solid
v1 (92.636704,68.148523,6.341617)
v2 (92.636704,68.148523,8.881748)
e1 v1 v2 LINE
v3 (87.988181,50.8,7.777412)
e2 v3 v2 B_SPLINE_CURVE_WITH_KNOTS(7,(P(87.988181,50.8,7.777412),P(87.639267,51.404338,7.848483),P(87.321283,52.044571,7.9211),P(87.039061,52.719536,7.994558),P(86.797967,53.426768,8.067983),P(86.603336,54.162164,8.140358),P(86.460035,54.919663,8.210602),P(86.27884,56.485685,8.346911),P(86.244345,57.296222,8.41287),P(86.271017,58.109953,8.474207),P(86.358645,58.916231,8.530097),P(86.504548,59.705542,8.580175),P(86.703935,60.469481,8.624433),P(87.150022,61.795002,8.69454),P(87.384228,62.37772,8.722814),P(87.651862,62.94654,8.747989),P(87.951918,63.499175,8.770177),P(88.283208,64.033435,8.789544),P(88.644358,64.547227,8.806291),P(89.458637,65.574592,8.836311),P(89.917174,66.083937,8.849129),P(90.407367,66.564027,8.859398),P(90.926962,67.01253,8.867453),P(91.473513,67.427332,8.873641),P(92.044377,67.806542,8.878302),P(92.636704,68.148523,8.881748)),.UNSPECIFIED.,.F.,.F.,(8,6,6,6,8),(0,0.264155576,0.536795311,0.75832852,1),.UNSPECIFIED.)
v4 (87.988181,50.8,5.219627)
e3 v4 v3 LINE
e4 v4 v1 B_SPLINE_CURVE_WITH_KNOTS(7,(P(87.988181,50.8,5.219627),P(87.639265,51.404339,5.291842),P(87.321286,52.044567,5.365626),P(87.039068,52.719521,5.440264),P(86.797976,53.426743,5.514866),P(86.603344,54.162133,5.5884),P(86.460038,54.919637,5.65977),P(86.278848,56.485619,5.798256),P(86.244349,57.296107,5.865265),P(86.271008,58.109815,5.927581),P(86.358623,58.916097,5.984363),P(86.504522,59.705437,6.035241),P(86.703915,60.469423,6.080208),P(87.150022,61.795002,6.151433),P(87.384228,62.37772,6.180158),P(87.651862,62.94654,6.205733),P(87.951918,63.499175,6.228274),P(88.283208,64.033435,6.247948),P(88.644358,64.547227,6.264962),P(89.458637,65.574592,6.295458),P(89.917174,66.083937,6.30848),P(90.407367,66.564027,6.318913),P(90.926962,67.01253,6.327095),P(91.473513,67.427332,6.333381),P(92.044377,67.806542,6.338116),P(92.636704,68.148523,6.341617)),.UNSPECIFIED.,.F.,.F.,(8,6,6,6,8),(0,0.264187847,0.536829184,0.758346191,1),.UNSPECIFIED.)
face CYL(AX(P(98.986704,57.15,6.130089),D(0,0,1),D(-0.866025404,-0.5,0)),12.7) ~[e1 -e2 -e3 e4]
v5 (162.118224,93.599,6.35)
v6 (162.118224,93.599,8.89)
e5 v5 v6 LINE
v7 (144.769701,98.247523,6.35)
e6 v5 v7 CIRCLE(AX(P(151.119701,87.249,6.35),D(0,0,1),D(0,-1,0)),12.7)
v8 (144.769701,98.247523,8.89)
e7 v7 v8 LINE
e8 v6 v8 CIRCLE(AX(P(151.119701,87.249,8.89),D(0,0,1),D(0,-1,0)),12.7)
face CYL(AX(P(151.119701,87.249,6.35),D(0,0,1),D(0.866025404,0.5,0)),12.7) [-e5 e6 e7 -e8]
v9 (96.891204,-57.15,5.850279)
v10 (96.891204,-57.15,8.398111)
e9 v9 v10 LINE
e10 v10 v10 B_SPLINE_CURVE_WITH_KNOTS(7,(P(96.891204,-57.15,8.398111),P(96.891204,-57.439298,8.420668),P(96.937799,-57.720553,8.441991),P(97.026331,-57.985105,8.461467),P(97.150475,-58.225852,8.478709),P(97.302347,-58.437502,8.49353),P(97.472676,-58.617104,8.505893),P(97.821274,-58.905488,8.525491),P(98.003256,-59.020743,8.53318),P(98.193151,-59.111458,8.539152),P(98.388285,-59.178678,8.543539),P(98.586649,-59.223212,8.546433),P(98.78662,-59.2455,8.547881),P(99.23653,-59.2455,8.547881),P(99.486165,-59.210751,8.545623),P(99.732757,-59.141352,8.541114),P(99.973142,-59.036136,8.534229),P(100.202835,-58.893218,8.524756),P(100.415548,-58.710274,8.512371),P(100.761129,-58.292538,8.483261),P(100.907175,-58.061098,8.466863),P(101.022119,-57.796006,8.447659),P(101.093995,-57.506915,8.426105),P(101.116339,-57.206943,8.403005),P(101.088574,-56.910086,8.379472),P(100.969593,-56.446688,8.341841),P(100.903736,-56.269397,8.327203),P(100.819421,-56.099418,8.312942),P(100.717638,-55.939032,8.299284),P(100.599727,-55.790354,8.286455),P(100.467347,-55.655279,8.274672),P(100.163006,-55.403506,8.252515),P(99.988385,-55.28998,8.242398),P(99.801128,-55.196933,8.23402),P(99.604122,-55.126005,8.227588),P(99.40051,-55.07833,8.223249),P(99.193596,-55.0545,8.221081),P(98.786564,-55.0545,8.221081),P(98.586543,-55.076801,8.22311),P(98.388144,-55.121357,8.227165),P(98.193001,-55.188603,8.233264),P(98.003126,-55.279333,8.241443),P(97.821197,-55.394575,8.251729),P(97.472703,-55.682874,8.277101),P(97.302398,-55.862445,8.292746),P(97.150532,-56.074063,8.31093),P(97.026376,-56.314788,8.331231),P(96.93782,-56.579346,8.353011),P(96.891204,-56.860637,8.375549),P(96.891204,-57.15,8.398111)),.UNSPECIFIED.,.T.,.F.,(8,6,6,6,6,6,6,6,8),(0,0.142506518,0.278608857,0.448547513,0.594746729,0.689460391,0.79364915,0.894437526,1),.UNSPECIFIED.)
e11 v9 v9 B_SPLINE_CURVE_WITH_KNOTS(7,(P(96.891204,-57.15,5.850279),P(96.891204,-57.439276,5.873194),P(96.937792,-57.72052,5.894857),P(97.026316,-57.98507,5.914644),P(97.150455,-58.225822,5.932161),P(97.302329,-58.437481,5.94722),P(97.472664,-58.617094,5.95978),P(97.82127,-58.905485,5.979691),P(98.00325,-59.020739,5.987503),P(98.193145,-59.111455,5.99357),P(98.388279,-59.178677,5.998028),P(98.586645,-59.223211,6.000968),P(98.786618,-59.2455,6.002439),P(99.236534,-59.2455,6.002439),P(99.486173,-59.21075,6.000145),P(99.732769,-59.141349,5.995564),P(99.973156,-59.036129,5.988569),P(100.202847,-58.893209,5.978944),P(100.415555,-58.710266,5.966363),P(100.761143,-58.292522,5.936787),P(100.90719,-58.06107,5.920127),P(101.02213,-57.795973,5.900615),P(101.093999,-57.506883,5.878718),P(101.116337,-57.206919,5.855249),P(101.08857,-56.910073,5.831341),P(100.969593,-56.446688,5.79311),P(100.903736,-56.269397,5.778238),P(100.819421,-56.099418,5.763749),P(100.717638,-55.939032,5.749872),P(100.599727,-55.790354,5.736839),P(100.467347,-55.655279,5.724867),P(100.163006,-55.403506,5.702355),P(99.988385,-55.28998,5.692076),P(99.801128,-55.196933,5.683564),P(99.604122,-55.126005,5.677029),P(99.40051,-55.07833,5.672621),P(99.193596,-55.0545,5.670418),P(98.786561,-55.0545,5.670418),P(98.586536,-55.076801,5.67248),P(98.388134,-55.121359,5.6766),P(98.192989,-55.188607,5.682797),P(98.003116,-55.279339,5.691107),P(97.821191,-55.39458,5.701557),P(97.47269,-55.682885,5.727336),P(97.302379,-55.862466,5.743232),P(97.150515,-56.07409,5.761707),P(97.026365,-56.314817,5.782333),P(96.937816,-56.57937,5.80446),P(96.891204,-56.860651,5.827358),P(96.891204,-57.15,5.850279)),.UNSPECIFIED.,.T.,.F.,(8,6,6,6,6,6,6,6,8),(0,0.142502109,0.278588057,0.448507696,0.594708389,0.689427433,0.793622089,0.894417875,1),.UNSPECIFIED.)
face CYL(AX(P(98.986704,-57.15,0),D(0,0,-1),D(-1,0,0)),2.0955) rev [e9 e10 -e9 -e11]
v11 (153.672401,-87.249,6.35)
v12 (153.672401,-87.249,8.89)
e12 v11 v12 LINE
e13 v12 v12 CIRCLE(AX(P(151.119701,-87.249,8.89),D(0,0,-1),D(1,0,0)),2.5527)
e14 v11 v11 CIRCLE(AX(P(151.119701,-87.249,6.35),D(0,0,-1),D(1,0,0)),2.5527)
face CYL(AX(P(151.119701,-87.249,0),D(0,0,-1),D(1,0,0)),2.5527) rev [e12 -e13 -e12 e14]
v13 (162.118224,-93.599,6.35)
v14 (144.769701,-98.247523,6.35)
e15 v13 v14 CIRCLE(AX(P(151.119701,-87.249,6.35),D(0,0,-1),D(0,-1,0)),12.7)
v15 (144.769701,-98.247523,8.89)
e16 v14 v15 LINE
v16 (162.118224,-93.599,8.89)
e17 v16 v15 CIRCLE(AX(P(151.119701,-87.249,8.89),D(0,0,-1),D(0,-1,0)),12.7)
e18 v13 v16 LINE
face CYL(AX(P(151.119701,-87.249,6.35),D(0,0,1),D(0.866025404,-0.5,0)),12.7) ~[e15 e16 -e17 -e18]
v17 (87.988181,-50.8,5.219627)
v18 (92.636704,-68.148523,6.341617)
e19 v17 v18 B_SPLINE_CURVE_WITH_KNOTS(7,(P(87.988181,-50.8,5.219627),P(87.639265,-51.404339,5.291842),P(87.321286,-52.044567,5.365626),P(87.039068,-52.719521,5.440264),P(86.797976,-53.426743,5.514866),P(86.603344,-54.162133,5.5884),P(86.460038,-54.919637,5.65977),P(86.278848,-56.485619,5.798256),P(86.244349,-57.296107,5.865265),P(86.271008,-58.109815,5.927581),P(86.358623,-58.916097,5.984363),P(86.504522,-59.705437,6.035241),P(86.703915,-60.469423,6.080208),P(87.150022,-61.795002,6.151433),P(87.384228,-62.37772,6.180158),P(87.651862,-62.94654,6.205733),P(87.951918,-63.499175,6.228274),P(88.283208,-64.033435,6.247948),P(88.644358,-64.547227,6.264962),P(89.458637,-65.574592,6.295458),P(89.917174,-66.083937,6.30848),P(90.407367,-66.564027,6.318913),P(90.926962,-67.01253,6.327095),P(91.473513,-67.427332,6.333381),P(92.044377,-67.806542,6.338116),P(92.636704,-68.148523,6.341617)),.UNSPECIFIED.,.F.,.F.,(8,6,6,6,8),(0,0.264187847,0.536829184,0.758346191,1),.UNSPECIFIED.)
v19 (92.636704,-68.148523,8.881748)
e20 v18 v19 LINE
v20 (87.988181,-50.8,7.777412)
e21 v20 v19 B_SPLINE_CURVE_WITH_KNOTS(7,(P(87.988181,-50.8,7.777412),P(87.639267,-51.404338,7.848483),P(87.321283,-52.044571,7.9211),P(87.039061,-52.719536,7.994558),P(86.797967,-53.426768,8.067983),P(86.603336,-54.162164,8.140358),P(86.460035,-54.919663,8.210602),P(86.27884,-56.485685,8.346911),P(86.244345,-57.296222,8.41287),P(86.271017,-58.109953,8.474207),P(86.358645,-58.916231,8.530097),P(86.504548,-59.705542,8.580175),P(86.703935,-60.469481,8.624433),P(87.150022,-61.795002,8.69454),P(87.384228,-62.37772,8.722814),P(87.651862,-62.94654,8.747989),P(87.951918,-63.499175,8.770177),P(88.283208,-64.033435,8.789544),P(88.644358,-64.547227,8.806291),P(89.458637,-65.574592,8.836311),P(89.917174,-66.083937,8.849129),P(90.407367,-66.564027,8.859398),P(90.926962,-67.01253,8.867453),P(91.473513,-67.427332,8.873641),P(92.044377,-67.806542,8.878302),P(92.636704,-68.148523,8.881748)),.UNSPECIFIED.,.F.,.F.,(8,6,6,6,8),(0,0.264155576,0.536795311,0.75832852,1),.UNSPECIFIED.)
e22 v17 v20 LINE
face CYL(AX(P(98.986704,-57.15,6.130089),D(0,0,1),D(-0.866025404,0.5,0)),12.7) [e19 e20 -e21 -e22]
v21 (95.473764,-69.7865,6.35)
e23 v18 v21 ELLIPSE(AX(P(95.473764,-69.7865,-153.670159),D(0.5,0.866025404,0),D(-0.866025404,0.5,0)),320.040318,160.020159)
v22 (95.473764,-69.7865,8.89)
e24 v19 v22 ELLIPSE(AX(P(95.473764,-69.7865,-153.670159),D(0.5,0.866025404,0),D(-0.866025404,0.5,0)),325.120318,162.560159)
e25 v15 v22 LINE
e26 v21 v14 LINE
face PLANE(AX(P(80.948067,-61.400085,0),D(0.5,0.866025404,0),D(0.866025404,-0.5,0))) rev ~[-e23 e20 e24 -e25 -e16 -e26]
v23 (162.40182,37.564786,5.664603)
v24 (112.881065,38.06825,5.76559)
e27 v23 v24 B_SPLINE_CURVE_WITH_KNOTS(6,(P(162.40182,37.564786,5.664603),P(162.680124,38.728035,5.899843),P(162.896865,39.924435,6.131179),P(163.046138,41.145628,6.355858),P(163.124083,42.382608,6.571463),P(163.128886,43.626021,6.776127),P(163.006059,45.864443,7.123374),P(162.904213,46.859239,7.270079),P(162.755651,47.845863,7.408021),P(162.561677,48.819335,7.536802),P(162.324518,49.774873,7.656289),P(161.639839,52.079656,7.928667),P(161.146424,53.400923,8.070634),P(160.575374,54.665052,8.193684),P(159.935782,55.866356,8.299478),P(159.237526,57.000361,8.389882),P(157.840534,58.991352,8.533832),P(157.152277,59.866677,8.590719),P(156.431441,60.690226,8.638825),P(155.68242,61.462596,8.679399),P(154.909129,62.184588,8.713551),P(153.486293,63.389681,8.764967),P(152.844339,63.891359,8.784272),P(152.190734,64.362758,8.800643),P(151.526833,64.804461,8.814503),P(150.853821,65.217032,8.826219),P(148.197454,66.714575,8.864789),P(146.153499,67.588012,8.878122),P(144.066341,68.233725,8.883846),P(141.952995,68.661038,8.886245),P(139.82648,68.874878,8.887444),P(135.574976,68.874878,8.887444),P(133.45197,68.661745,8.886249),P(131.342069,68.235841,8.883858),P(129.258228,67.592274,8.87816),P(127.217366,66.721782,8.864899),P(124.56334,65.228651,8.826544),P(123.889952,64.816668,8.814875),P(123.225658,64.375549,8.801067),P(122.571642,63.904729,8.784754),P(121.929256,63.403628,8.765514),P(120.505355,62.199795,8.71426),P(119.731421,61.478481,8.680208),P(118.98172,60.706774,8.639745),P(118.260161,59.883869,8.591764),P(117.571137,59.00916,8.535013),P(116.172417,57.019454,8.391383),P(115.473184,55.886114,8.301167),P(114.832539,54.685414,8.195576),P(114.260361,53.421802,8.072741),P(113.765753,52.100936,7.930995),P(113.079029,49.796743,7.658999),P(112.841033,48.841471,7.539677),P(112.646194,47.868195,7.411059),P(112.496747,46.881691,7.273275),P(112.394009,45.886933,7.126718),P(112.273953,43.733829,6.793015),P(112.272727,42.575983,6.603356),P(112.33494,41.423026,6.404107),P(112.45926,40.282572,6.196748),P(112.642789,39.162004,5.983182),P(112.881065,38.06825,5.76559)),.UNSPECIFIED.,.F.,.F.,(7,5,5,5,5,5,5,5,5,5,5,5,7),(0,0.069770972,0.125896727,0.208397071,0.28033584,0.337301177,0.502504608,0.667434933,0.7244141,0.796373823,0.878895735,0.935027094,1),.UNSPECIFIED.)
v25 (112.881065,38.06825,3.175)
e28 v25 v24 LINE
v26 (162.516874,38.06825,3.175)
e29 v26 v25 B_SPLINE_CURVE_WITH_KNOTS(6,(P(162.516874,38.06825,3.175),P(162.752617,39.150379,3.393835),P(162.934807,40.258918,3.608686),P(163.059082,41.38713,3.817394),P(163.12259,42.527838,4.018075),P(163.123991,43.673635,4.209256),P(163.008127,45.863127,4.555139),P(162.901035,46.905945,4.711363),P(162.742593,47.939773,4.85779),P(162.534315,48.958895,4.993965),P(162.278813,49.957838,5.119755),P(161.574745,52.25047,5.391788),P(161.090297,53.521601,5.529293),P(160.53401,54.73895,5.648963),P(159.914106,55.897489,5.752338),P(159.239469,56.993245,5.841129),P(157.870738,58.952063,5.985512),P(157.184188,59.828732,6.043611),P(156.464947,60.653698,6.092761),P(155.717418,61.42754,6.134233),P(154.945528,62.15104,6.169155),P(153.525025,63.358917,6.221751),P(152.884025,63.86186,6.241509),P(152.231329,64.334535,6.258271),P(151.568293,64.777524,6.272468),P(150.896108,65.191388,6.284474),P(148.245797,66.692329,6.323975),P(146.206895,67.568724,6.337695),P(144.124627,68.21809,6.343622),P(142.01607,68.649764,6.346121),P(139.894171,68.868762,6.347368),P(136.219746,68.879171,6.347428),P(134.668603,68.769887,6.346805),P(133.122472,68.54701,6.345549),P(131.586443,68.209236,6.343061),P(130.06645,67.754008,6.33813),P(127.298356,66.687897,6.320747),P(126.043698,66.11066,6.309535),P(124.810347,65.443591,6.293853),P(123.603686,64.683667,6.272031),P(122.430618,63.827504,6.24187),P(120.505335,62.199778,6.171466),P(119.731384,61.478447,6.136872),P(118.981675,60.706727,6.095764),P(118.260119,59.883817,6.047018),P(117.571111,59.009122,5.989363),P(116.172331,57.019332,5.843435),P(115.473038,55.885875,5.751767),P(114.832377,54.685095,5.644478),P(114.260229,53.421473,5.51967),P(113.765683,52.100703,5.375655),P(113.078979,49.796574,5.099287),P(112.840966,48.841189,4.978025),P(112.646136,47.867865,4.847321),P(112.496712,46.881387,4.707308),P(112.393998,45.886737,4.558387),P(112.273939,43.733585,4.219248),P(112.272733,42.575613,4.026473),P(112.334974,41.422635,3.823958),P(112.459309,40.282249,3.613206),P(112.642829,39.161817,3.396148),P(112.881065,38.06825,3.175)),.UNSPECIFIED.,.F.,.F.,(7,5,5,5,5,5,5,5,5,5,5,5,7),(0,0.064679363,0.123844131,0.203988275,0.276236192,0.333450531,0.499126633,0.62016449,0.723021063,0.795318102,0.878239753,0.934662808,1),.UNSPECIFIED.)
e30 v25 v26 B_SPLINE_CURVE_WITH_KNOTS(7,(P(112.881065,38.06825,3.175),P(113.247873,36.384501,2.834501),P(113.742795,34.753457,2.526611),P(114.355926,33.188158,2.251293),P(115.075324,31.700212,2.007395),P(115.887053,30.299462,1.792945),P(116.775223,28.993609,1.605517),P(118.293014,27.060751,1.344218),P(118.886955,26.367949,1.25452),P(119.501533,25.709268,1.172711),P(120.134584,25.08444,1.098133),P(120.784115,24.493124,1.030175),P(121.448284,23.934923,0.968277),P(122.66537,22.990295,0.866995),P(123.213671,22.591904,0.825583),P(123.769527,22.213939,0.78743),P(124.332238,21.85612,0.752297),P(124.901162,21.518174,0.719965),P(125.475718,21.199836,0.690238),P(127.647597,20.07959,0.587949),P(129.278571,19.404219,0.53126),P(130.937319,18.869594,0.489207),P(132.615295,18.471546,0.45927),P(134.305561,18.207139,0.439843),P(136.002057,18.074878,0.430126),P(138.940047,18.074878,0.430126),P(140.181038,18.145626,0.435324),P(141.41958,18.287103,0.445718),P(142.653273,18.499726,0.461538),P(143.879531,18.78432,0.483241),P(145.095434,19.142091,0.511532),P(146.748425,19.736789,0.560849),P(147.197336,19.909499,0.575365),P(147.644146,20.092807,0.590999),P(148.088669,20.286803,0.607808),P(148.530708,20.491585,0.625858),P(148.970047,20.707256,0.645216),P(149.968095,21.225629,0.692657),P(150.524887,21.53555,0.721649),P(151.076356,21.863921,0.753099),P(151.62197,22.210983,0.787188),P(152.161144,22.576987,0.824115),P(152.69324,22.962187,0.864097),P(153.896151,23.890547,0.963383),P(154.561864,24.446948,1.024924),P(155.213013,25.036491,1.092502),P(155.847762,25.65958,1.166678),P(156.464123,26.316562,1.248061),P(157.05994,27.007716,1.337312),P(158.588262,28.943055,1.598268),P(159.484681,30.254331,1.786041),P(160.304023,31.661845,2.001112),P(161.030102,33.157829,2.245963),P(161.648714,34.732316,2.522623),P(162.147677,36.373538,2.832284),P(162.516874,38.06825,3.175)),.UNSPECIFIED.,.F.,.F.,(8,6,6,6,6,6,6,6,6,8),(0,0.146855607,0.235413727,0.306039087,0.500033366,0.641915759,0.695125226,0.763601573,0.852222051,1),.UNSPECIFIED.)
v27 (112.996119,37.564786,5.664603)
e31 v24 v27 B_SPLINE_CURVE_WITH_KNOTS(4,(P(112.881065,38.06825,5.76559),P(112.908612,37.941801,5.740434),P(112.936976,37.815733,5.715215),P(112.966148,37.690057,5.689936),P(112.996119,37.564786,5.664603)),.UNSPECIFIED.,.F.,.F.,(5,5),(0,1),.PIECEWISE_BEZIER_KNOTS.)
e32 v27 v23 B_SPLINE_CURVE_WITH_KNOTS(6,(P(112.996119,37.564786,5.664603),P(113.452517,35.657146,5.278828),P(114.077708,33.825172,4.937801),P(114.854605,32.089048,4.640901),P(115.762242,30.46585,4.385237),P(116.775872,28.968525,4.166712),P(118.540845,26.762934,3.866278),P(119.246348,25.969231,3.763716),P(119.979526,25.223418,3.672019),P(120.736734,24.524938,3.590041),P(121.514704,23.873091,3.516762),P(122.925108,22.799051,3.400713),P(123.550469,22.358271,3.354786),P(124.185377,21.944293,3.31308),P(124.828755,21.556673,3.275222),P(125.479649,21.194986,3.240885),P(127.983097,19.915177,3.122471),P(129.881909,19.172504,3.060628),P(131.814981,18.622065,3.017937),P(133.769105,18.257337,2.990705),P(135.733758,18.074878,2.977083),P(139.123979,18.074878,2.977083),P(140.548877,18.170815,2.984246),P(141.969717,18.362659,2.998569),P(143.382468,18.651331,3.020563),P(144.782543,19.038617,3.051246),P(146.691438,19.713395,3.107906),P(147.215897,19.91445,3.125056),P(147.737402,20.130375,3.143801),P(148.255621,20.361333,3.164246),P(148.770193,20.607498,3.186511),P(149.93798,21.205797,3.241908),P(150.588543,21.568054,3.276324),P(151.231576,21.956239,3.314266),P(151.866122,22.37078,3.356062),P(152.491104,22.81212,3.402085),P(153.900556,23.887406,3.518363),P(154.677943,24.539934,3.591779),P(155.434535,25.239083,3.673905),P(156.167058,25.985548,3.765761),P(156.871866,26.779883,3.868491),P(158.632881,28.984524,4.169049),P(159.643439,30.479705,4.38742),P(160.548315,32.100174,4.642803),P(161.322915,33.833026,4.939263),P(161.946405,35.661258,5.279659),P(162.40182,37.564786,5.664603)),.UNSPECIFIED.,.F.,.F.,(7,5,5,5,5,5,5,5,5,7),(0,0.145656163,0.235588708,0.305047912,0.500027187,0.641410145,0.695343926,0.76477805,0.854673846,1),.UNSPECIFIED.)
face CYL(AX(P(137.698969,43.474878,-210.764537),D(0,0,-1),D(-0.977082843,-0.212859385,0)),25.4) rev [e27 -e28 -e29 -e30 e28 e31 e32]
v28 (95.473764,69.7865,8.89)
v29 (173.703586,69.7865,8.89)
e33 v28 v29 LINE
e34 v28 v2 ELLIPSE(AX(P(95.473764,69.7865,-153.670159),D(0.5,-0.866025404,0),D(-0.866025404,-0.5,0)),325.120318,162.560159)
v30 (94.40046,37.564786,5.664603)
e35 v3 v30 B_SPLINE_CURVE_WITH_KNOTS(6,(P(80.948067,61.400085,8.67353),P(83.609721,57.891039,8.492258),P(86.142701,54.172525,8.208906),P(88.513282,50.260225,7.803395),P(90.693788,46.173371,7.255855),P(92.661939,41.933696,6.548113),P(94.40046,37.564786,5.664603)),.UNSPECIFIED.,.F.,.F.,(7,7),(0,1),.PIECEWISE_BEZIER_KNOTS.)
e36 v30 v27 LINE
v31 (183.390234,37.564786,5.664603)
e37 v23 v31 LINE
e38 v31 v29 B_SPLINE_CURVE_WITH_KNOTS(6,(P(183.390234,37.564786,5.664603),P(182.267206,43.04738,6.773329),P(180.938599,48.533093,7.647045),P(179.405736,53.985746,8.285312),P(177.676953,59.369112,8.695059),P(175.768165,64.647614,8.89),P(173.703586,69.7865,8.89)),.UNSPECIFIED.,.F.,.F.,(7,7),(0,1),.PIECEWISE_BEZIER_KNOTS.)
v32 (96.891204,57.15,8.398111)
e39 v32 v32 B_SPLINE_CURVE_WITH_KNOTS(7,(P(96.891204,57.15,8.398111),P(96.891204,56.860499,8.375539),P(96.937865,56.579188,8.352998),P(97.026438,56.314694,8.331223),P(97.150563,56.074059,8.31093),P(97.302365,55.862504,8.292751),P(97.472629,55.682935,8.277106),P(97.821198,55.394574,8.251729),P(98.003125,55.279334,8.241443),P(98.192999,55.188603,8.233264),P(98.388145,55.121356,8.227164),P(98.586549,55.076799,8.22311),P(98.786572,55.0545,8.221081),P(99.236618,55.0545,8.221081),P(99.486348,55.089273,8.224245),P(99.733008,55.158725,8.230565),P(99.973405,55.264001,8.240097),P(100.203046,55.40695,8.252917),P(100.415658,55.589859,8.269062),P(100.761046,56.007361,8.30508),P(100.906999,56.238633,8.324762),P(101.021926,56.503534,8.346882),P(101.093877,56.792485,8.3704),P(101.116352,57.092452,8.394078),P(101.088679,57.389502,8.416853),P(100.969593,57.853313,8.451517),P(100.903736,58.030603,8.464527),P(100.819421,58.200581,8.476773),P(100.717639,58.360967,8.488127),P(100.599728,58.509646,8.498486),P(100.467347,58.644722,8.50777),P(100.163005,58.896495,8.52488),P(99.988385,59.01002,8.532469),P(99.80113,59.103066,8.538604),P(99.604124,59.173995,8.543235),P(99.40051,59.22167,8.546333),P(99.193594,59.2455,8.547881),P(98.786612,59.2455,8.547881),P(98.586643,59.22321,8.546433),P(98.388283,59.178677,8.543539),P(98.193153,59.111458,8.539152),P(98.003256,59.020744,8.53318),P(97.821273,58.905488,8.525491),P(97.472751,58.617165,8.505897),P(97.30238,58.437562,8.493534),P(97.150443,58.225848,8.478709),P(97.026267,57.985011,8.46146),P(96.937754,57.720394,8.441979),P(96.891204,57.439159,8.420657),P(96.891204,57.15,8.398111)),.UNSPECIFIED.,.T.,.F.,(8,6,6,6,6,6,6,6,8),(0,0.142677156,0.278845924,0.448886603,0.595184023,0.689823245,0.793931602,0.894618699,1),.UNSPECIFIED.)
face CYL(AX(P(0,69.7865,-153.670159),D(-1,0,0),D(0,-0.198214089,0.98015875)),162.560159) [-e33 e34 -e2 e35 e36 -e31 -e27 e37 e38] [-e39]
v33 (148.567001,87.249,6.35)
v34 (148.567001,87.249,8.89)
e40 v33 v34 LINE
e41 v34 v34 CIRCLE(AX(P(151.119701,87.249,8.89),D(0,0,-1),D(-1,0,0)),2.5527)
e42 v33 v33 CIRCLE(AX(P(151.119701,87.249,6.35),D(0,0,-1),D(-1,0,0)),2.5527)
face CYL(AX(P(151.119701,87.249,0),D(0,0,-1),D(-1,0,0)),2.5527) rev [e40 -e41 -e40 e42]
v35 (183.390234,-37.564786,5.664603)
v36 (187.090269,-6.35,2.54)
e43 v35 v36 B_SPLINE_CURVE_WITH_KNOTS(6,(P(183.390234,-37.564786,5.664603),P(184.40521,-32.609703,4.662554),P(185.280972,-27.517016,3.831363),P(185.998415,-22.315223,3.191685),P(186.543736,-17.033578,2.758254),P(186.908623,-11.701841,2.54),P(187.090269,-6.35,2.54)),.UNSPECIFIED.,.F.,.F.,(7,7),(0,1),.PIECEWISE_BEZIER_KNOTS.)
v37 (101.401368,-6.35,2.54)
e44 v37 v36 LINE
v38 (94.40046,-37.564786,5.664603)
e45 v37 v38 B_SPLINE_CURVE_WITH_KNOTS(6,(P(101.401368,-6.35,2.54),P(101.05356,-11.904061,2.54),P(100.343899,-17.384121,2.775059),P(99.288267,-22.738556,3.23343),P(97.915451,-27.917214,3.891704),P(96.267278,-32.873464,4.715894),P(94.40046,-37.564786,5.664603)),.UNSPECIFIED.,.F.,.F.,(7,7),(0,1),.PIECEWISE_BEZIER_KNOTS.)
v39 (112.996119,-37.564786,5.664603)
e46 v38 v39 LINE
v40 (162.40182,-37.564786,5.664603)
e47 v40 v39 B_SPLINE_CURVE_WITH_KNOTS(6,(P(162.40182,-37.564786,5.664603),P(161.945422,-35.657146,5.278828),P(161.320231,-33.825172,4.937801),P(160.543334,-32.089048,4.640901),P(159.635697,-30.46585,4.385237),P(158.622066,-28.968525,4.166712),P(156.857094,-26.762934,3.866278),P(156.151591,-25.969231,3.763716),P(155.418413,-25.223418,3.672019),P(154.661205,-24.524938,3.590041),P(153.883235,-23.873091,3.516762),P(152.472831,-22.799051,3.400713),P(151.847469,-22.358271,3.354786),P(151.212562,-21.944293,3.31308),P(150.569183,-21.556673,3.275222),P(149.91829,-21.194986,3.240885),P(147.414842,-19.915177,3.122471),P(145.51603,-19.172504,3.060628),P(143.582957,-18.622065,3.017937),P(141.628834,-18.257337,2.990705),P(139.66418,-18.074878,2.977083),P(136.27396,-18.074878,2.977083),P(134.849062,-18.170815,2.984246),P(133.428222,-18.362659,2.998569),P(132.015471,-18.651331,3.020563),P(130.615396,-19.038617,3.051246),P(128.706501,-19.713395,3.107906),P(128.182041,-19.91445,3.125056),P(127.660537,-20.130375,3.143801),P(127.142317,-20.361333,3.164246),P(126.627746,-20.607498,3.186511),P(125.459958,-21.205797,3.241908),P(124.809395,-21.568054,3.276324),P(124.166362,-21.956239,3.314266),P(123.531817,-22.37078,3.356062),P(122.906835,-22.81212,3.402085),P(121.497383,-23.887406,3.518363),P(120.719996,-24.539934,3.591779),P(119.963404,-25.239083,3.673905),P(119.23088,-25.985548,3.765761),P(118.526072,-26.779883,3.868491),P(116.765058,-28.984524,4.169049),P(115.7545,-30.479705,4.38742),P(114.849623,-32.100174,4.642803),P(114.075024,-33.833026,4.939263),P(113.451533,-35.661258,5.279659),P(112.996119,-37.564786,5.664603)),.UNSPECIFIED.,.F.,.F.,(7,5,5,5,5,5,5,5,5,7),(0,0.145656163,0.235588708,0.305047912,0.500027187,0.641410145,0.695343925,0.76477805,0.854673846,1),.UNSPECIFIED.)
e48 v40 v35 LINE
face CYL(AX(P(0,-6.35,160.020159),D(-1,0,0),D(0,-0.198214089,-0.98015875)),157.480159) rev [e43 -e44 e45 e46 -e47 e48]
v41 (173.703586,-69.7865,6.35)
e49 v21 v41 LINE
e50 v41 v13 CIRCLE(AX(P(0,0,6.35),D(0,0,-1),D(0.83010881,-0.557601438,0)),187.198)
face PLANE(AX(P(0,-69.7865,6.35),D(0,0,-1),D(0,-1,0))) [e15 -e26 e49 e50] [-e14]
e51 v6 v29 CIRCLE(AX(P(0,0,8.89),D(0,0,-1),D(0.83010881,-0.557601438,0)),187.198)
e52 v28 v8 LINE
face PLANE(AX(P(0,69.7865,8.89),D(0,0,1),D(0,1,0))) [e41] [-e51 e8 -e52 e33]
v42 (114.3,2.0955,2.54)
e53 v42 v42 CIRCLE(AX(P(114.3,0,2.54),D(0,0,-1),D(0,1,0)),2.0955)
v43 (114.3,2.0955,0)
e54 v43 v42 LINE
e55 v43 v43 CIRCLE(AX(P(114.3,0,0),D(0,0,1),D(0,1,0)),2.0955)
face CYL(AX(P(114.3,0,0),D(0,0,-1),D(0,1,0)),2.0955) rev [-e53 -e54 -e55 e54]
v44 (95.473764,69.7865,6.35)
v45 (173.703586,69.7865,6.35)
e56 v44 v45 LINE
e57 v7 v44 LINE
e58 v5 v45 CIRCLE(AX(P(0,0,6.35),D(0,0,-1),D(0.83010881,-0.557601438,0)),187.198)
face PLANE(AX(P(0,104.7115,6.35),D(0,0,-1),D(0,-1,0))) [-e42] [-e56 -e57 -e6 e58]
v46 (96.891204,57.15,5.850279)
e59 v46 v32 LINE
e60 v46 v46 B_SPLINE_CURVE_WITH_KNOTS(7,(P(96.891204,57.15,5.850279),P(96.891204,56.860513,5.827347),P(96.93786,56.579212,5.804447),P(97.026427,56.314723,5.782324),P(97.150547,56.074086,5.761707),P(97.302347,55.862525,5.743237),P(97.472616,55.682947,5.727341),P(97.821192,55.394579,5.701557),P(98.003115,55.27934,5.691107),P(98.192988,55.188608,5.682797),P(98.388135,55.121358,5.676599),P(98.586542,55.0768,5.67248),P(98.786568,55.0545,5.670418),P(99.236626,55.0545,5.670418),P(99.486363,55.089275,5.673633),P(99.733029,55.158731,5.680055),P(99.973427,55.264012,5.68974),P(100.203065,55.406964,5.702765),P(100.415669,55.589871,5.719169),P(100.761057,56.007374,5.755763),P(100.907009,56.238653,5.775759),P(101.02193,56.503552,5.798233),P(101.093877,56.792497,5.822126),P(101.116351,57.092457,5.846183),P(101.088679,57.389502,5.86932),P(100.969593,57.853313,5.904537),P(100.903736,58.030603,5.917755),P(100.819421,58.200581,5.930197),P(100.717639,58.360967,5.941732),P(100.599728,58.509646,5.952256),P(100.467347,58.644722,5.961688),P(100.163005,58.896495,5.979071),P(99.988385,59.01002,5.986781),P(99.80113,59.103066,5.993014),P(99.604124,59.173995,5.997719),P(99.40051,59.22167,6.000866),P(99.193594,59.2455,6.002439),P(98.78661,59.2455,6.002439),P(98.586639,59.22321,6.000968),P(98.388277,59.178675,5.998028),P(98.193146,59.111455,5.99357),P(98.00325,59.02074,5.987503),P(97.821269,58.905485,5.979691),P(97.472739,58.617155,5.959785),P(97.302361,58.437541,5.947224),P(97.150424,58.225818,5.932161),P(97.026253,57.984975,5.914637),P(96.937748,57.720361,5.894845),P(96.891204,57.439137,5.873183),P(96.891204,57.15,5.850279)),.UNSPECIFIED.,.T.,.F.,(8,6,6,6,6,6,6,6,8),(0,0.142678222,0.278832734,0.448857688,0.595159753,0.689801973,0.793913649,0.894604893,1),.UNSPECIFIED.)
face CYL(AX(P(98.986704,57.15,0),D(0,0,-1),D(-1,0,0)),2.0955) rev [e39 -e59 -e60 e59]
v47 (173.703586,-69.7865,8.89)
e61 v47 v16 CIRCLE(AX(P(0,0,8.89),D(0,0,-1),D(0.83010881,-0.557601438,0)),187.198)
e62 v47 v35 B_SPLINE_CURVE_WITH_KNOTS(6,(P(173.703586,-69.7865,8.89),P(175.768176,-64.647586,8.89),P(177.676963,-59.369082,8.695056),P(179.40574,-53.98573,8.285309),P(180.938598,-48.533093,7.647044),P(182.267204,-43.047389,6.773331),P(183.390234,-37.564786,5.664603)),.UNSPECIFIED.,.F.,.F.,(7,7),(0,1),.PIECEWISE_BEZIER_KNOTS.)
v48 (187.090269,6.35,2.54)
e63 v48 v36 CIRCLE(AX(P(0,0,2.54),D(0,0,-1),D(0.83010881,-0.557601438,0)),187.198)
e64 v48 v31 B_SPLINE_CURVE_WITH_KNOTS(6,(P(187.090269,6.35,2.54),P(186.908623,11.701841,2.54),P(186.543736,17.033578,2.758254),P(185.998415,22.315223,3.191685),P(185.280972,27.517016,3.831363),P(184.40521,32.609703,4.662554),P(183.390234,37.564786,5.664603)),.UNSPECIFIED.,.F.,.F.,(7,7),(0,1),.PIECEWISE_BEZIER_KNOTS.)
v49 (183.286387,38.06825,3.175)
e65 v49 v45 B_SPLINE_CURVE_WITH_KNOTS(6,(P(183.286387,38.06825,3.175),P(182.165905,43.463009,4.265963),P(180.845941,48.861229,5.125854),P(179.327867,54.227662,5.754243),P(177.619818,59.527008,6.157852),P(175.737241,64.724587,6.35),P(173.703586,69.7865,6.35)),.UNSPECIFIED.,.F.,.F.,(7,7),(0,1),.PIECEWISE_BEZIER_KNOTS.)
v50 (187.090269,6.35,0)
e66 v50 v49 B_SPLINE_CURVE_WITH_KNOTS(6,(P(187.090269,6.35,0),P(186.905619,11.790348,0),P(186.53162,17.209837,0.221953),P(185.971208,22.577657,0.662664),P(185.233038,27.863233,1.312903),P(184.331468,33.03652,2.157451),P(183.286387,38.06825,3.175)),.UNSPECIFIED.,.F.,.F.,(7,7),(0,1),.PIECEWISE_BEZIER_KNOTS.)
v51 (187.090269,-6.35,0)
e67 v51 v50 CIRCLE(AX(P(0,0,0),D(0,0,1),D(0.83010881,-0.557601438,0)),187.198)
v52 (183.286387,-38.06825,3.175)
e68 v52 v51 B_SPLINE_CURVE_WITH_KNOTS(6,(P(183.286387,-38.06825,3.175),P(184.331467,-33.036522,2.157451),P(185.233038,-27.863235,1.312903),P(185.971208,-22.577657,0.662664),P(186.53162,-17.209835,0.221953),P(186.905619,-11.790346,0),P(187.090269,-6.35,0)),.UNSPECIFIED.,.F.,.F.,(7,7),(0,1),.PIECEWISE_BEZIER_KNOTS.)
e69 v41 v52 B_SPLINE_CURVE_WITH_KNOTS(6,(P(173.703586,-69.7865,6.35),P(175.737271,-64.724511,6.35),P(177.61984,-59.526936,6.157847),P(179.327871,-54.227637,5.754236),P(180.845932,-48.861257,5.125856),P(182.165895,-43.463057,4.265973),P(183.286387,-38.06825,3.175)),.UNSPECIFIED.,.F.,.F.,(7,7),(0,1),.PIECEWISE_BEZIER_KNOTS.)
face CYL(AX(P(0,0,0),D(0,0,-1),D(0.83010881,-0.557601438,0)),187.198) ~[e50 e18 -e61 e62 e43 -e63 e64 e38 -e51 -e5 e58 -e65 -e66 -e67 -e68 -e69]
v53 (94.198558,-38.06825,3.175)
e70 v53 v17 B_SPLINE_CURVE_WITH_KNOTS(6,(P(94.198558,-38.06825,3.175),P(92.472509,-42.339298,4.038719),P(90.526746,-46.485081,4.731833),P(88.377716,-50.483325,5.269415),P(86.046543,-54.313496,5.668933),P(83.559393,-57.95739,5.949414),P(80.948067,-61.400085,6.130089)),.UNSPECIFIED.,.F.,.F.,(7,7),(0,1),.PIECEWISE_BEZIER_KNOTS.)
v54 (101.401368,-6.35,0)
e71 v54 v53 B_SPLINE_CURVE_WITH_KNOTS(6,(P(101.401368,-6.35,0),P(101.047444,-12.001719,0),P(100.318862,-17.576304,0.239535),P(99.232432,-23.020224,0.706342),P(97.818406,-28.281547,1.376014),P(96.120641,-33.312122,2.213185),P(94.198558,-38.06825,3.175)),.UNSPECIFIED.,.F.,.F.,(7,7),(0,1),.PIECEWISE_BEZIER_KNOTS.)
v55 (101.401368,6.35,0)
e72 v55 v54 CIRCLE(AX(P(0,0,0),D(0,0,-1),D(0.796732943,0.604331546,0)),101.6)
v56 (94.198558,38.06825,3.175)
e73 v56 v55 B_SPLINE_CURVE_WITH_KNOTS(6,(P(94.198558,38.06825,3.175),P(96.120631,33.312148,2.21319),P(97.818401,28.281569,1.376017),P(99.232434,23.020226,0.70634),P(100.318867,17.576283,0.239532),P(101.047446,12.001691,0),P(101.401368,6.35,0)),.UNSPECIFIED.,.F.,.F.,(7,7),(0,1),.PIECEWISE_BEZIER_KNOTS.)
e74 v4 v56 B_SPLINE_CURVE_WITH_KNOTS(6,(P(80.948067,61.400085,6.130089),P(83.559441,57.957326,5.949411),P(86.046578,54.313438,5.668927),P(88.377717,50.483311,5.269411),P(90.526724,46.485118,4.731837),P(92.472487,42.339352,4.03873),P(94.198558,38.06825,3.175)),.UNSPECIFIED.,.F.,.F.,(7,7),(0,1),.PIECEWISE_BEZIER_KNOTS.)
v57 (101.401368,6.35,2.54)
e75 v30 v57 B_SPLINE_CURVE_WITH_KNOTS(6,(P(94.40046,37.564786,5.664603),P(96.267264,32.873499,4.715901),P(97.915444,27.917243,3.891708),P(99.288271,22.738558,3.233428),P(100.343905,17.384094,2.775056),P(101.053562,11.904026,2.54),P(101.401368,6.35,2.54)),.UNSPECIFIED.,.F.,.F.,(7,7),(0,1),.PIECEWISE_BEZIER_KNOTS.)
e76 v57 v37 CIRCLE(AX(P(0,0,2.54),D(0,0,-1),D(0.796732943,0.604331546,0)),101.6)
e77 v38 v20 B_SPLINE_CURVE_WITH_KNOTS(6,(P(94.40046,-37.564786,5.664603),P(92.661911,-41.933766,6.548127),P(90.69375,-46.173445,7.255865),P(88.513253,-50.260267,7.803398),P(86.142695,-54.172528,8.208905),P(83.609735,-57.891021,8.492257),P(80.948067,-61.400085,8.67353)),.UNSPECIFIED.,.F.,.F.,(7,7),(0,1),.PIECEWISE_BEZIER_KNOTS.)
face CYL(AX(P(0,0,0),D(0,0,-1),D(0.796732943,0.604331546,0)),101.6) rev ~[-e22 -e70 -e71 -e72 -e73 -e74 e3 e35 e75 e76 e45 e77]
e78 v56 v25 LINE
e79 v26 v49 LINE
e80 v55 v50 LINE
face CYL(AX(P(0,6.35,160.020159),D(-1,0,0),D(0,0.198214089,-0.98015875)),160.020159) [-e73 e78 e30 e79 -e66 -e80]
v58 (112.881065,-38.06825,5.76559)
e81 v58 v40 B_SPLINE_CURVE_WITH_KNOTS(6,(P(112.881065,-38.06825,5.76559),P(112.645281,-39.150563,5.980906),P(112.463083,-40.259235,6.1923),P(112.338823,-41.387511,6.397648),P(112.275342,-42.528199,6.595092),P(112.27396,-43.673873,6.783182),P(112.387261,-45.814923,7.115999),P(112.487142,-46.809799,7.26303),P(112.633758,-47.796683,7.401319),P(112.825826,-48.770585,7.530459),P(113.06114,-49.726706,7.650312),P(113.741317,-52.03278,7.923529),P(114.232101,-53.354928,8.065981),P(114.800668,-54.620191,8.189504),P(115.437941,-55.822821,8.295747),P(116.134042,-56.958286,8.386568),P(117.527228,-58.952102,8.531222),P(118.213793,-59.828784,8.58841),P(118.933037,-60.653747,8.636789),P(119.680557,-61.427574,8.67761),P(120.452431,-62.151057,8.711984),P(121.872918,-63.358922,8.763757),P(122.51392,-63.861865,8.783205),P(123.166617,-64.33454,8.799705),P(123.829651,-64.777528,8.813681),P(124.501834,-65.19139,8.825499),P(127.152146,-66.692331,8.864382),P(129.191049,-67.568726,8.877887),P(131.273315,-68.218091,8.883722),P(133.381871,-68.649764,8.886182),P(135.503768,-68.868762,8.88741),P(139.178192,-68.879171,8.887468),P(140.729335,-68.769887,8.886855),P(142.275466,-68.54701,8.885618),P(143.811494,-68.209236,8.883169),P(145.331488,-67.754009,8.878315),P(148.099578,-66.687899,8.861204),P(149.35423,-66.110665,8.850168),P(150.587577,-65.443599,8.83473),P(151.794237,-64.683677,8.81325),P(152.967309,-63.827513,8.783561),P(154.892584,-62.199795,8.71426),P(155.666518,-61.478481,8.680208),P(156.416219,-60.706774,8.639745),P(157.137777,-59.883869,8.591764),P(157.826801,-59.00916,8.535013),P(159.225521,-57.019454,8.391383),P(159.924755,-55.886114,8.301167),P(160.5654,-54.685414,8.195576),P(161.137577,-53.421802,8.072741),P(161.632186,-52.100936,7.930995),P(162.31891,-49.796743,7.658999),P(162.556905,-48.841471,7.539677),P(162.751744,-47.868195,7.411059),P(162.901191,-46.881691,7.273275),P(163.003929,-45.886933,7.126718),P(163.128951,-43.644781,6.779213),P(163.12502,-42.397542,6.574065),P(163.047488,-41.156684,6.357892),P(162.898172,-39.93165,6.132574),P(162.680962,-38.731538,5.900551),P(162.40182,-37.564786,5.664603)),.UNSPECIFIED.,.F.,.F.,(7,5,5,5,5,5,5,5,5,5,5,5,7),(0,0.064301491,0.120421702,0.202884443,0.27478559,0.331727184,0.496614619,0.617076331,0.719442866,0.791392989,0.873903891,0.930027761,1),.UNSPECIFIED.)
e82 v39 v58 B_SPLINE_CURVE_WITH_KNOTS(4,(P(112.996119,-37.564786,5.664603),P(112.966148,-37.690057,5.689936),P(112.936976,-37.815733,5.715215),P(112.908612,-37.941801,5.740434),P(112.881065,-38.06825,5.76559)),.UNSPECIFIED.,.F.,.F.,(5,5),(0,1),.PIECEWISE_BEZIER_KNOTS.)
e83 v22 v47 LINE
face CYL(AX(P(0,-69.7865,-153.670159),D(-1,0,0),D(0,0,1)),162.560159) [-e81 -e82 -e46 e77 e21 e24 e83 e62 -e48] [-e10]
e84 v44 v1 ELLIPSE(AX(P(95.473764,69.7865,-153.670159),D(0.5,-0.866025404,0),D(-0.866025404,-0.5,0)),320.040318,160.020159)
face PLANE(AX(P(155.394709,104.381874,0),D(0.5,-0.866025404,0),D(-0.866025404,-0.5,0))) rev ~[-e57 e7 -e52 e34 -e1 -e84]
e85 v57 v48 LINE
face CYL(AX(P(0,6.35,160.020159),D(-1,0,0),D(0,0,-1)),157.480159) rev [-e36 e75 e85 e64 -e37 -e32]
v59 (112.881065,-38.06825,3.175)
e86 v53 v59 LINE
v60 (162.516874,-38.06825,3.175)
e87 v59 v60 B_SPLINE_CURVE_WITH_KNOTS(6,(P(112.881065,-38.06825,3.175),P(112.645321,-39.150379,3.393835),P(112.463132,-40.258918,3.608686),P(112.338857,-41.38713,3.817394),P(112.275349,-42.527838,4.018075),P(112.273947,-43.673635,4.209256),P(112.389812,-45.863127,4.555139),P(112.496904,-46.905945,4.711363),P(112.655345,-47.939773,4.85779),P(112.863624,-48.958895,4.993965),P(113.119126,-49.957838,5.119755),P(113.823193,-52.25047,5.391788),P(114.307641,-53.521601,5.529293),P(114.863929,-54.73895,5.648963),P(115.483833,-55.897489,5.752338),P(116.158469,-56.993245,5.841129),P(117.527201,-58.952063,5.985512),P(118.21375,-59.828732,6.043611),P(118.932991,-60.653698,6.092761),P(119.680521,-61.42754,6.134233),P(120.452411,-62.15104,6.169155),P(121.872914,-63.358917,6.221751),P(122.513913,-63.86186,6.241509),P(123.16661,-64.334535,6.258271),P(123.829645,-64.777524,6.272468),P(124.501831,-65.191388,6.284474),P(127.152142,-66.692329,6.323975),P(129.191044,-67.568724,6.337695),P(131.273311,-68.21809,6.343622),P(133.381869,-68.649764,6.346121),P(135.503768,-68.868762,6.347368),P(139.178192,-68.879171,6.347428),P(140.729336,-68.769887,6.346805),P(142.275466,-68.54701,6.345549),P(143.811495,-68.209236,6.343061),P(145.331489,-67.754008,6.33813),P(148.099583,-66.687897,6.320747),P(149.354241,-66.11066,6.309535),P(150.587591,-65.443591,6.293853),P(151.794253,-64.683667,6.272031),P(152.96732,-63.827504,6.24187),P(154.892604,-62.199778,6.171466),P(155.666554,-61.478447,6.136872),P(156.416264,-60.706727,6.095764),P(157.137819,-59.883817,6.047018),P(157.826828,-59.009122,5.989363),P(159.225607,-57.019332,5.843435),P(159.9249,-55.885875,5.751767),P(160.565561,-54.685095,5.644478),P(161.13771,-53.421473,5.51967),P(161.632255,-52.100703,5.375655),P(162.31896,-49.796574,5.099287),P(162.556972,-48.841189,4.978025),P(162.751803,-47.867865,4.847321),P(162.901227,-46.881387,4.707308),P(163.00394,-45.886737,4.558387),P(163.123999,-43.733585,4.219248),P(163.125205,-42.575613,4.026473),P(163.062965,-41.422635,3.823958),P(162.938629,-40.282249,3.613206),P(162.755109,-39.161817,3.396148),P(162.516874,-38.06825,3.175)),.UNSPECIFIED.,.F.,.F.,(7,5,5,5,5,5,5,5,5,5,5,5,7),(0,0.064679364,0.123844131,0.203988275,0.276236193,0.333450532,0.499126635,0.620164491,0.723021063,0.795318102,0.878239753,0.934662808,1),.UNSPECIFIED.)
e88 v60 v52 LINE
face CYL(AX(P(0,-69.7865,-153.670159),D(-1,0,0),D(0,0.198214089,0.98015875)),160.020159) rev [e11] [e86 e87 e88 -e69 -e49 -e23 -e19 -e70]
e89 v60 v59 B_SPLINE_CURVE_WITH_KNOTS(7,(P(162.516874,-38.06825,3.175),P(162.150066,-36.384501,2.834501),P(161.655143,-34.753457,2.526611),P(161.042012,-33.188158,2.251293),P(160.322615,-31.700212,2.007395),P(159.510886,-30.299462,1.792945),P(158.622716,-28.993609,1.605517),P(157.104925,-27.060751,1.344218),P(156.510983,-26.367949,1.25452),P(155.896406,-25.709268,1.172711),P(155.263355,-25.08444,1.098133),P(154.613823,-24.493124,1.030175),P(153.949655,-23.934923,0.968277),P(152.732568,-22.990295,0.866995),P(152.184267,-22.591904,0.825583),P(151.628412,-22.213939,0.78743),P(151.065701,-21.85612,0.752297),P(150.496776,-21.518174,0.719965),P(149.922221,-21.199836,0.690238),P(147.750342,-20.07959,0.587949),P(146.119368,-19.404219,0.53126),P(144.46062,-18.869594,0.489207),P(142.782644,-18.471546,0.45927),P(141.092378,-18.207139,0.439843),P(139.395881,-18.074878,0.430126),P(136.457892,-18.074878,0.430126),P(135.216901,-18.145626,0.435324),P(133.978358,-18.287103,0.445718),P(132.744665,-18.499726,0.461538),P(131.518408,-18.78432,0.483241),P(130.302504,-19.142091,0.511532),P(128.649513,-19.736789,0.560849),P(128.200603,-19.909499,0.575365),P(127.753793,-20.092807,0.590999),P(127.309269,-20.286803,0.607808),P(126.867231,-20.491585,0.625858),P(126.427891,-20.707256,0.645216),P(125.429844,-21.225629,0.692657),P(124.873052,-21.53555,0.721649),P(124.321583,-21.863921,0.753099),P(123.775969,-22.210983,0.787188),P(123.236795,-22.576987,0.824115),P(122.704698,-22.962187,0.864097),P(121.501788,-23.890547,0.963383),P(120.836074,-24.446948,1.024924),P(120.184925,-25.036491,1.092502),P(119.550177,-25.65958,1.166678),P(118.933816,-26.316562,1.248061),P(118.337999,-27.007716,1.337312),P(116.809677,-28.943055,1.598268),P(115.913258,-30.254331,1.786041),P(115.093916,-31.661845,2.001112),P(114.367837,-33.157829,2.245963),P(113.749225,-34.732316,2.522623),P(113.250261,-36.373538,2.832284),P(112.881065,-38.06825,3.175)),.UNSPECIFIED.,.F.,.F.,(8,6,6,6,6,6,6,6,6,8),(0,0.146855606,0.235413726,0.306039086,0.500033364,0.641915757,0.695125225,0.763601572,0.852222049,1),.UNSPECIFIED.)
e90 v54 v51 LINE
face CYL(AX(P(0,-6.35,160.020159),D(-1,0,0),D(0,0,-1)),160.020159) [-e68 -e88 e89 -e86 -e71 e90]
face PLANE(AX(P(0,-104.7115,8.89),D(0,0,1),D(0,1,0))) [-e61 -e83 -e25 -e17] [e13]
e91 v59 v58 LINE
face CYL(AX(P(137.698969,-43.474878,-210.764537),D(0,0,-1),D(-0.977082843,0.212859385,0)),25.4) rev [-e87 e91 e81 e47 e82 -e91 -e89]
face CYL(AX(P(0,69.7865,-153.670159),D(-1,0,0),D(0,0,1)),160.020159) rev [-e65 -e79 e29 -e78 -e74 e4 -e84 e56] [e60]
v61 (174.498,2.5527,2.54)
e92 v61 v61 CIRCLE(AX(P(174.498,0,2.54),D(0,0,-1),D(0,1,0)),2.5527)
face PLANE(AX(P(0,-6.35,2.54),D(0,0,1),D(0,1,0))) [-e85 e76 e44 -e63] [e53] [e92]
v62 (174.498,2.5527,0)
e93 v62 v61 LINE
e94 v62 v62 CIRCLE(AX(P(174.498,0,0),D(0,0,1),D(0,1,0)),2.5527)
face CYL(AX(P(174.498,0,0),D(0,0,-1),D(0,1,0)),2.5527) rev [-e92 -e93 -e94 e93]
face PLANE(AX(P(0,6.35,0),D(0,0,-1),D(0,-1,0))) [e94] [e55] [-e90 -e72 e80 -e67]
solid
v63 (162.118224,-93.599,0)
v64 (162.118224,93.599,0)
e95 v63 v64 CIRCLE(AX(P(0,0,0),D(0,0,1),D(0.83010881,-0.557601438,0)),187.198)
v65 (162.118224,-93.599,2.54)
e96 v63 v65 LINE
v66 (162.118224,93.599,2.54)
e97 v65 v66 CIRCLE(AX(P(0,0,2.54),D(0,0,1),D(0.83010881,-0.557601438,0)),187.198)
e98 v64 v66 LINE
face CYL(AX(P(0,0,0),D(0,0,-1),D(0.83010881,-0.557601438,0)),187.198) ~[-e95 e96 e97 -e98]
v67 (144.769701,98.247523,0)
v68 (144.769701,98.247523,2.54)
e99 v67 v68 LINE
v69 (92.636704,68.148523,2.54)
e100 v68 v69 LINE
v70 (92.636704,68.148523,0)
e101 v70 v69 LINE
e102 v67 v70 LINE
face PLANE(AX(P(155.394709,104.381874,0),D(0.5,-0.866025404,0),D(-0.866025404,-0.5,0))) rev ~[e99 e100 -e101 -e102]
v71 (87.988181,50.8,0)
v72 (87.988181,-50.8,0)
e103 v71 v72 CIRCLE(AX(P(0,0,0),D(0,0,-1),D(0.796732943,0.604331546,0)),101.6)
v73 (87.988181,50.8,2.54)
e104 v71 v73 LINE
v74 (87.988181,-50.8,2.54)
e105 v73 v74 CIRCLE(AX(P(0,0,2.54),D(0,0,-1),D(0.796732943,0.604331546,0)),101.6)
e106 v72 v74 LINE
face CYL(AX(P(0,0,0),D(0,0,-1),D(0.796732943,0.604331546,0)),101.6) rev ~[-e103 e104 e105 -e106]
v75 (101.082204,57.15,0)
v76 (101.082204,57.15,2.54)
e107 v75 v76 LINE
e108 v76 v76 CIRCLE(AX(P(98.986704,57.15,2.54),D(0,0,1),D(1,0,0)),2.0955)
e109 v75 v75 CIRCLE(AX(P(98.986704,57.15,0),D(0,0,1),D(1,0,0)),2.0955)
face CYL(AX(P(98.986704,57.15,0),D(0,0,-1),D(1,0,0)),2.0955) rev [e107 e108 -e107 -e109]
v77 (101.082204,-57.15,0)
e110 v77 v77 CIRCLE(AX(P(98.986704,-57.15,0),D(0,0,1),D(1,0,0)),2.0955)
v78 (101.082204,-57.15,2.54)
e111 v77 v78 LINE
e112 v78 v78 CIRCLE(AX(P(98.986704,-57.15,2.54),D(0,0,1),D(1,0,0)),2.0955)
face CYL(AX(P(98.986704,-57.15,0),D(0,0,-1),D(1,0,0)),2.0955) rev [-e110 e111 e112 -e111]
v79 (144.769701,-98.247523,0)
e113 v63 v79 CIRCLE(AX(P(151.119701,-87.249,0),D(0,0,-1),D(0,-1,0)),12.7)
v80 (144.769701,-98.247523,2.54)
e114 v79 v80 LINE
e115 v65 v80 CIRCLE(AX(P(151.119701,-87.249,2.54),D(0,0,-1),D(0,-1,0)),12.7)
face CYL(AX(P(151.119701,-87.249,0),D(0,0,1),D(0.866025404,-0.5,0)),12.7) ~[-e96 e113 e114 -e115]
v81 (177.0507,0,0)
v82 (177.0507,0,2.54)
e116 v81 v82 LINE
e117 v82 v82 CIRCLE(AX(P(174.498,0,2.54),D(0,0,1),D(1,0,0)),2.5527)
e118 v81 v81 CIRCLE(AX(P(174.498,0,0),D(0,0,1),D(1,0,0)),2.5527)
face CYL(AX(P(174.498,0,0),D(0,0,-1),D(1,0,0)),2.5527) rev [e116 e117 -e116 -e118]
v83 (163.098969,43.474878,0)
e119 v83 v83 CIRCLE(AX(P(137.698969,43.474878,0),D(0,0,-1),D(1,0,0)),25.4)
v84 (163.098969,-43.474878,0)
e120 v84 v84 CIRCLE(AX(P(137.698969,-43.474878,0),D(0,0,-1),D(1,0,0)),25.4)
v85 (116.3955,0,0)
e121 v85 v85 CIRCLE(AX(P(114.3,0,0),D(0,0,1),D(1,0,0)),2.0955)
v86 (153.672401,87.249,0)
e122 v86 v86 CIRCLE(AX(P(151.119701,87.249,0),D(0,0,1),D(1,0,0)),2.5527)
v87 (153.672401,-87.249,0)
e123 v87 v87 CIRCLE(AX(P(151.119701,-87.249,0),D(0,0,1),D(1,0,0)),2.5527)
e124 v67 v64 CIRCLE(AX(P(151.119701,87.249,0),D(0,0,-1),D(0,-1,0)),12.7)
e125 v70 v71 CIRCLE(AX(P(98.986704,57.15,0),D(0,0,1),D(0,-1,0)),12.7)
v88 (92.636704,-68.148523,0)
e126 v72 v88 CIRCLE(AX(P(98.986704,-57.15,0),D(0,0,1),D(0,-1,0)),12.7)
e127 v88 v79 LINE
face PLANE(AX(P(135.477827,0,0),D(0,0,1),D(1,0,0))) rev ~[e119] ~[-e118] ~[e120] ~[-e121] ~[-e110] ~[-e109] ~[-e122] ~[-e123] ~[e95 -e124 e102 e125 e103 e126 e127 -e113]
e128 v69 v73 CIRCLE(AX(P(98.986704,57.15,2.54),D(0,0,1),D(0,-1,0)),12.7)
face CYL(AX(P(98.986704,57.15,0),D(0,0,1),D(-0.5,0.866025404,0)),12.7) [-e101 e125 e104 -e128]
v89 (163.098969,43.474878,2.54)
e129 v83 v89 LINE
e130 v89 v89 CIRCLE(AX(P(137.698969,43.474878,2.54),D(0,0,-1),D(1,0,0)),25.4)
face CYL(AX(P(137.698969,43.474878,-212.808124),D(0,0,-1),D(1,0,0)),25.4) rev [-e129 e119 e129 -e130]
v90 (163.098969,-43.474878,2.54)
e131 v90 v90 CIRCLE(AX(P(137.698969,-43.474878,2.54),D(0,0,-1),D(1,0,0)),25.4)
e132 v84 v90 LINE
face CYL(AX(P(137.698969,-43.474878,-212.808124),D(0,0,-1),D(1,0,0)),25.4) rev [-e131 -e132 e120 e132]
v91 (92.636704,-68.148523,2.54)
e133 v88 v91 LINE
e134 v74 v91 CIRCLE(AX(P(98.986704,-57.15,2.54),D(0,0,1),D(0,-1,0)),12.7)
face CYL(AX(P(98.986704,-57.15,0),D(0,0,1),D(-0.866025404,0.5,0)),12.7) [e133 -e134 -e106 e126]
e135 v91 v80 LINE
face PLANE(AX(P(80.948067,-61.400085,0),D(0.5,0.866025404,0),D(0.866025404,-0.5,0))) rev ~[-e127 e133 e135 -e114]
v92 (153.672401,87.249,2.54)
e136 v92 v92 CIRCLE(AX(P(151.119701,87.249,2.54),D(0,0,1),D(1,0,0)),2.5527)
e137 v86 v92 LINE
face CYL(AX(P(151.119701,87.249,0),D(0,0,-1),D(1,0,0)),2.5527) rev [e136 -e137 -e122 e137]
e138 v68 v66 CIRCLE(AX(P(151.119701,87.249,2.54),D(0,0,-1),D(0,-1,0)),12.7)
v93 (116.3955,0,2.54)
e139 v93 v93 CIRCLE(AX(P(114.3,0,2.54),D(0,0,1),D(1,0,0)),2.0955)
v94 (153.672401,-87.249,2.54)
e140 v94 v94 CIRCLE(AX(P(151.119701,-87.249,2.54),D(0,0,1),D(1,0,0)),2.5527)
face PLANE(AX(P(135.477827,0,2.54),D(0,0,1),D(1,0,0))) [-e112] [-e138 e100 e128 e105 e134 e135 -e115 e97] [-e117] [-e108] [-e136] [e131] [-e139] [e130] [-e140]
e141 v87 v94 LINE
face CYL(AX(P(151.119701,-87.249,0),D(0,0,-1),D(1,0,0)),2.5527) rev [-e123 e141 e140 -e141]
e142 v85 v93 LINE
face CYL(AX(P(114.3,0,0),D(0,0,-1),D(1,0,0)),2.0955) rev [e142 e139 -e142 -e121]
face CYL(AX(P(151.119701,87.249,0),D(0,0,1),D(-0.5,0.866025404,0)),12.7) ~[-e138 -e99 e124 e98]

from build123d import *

# Parameters (mm, degrees)
SKETCH1_R               = 2.5527
SKETCH1_R_2             = 2.0955
BOSS_EXTRUDE1_DEPTH     = 2.54
CUT_EXTRUDE1_DEPTH      = 215.348124344
CUT_EXTRUDE1_DEPTH_BACK = 215.348124344
SKETCH2_R               = 25.4
BOSS_EXTRUDE2_DEPTH     = 276.098
SKETCH1_2_OUTSIDE_W     = 347.428
SKETCH1_2_OUTSIDE_H     = 280.754
SKETCH1_2_OUTSIDE_R     = 2.5527
SKETCH1_2_OUTSIDE_R_2   = 2.0955
CUT_EXTRUDE3_DEPTH      = 276.098
FILLET1_R               = 12.7
FILLET2_R               = 12.7
CUT_EXTRUDE4_DEPTH      = 213.304536795
CUT_EXTRUDE4_DEPTH_BACK = 213.304536795
SKETCH2_2_R             = 25.4


with BuildPart() as part:
    # Sketch1 → Boss-Extrude1 (new body)
    with BuildSketch(Plane.XY):
        with BuildLine():
            Line((155.394709042, 104.381873933), (80.948066989, 61.400085104))
            ThreePointArc((80.948066989, 61.400085104), (101.6, 0), (80.948066989, -61.400085104))
            Line((80.948066989, -61.400085104), (155.394709042, -104.381873933))
            ThreePointArc((155.394709042, -104.381873933), (187.198, 0), (155.394709042, 104.381873933))
        make_face()
        with Locations((174.498, 0)):
            Circle(SKETCH1_R, mode=Mode.SUBTRACT)
        with Locations((151.11970091, 87.249)):
            Circle(SKETCH1_R, mode=Mode.SUBTRACT)
        with Locations((151.11970091, -87.249)):
            Circle(SKETCH1_R, mode=Mode.SUBTRACT)
        with Locations((98.986703653, 57.15)):
            Circle(SKETCH1_R_2, mode=Mode.SUBTRACT)
        with Locations((114.3, 0)):
            Circle(SKETCH1_R_2, mode=Mode.SUBTRACT)
        with Locations((98.986703653, -57.15)):
            Circle(SKETCH1_R_2, mode=Mode.SUBTRACT)
    extrude(amount=BOSS_EXTRUDE1_DEPTH)

    # Sketch2 → Cut-Extrude1 (cut, two sides: drawn at the far end of the back side and taken through both)
    with BuildSketch(Plane.XY.offset(2.54).offset(-CUT_EXTRUDE1_DEPTH_BACK)):
        with Locations((137.698969318, 43.474878375)):
            Circle(SKETCH2_R)
        with Locations((137.698969318, -43.474878375)):
            Circle(SKETCH2_R)
    extrude(amount=CUT_EXTRUDE1_DEPTH + CUT_EXTRUDE1_DEPTH_BACK, mode=Mode.SUBTRACT)

    # Fillet1
    fillet1_edges = [part.edges().sort_by_distance(p)[0] for p in [
        (155.394709042, 104.381873933, 1.27),
        (80.948066989, 61.400085104, 1.27),
        (155.394709042, -104.381873933, 1.27),
        (80.948066989, -61.400085104, 1.27),
    ]]
    fillet(fillet1_edges, radius=FILLET1_R)


with BuildPart() as body_2:
    # Sketch3 → Boss-Extrude2 (new body)
    with BuildSketch(Plane(origin=(0, 0, 0), x_dir=(0, 0, -1), z_dir=(1, 0, 0))):
        with BuildLine():
            Line((0, 6.35), (0, -6.35))
            ThreePointArc((0, -6.35), (-0.79572845, -22.288381411), (-3.175, -38.06825))
            ThreePointArc((-3.175, -38.06825), (-5.55427155, -53.848118589), (-6.35, -69.7865))
            Line((-6.35, -69.7865), (-6.35, -104.7115))
            Line((-6.35, -104.7115), (-8.89, -104.7115))
            Line((-8.89, -104.7115), (-8.89, -69.7865))
            ThreePointArc((-8.89, -69.7865), (-8.081640952, -53.595128658), (-5.664603225, -37.564786214))
            ThreePointArc((-5.664603225, -37.564786214), (-3.323097852, -22.035391481), (-2.54, -6.35))
            Line((-2.54, -6.35), (-2.54, 6.35))
            ThreePointArc((-2.54, 6.35), (-3.323097852, 22.035391481), (-5.664603225, 37.564786214))
            ThreePointArc((-5.664603225, 37.564786214), (-8.081640952, 53.595128658), (-8.89, 69.7865))
            Line((-8.89, 69.7865), (-8.89, 104.7115))
            Line((-8.89, 104.7115), (-6.35, 104.7115))
            Line((-6.35, 104.7115), (-6.35, 69.7865))
            ThreePointArc((-6.35, 69.7865), (-5.55427155, 53.848118589), (-3.175, 38.06825))
            ThreePointArc((-3.175, 38.06825), (-0.79572845, 22.288381411), (0, 6.35))
        make_face()
    extrude(amount=BOSS_EXTRUDE2_DEPTH)

    # Sketch1<2> outside → Cut-Extrude3 (cut)
    # profile 1 of 7: a face of its own
    with BuildSketch(Plane.XY):
        with Locations((138.049, 0)):
            Rectangle(SKETCH1_2_OUTSIDE_W, SKETCH1_2_OUTSIDE_H)
        with BuildLine():
            Line((155.394709042, 104.381873933), (80.948066989, 61.400085104))
            ThreePointArc((80.948066989, 61.400085104), (101.6, 0), (80.948066989, -61.400085104))
            Line((80.948066989, -61.400085104), (155.394709042, -104.381873933))
            ThreePointArc((155.394709042, -104.381873933), (187.198, 0), (155.394709042, 104.381873933))
        make_face(mode=Mode.SUBTRACT)
    # profile 2 of 7: a face of its own
    with BuildSketch(Plane.XY):
        with Locations((174.498, 0)):
            Circle(SKETCH1_2_OUTSIDE_R)
    # profile 3 of 7: a face of its own
    with BuildSketch(Plane.XY):
        with Locations((151.11970091, 87.249)):
            Circle(SKETCH1_2_OUTSIDE_R)
    # profile 4 of 7: a face of its own
    with BuildSketch(Plane.XY):
        with Locations((151.11970091, -87.249)):
            Circle(SKETCH1_2_OUTSIDE_R)
    # profile 5 of 7: a face of its own
    with BuildSketch(Plane.XY):
        with Locations((98.986703653, 57.15)):
            Circle(SKETCH1_2_OUTSIDE_R_2)
    # profile 6 of 7: a face of its own
    with BuildSketch(Plane.XY):
        with Locations((114.3, 0)):
            Circle(SKETCH1_2_OUTSIDE_R_2)
    # profile 7 of 7: a face of its own
    with BuildSketch(Plane.XY):
        with Locations((98.986703653, -57.15)):
            Circle(SKETCH1_2_OUTSIDE_R_2)
    extrude(amount=CUT_EXTRUDE3_DEPTH, mode=Mode.SUBTRACT)

    # Fillet2
    fillet2_edges = [body_2.edges().sort_by_distance(p)[0] for p in [
        (155.394709042, -104.381873933, 7.62),
        (80.948066989, -61.400085104, 7.401809581),
        (80.948066989, 61.400085104, 7.401809581),
        (155.394709042, 104.381873933, 7.62),
    ]]
    fillet(fillet2_edges, radius=FILLET2_R)

    # Sketch2<2> → Cut-Extrude4 (cut, two sides: drawn at the far end of the back side and taken through both)
    with BuildSketch(Plane.XY.offset(2.54).offset(-CUT_EXTRUDE4_DEPTH_BACK)):
        with Locations((137.698969318, 43.474878375)):
            Circle(SKETCH2_2_R)
        with Locations((137.698969318, -43.474878375)):
            Circle(SKETCH2_2_R)
    extrude(amount=CUT_EXTRUDE4_DEPTH + CUT_EXTRUDE4_DEPTH_BACK, mode=Mode.SUBTRACT)


solid = Compound([part.part, body_2.part])
